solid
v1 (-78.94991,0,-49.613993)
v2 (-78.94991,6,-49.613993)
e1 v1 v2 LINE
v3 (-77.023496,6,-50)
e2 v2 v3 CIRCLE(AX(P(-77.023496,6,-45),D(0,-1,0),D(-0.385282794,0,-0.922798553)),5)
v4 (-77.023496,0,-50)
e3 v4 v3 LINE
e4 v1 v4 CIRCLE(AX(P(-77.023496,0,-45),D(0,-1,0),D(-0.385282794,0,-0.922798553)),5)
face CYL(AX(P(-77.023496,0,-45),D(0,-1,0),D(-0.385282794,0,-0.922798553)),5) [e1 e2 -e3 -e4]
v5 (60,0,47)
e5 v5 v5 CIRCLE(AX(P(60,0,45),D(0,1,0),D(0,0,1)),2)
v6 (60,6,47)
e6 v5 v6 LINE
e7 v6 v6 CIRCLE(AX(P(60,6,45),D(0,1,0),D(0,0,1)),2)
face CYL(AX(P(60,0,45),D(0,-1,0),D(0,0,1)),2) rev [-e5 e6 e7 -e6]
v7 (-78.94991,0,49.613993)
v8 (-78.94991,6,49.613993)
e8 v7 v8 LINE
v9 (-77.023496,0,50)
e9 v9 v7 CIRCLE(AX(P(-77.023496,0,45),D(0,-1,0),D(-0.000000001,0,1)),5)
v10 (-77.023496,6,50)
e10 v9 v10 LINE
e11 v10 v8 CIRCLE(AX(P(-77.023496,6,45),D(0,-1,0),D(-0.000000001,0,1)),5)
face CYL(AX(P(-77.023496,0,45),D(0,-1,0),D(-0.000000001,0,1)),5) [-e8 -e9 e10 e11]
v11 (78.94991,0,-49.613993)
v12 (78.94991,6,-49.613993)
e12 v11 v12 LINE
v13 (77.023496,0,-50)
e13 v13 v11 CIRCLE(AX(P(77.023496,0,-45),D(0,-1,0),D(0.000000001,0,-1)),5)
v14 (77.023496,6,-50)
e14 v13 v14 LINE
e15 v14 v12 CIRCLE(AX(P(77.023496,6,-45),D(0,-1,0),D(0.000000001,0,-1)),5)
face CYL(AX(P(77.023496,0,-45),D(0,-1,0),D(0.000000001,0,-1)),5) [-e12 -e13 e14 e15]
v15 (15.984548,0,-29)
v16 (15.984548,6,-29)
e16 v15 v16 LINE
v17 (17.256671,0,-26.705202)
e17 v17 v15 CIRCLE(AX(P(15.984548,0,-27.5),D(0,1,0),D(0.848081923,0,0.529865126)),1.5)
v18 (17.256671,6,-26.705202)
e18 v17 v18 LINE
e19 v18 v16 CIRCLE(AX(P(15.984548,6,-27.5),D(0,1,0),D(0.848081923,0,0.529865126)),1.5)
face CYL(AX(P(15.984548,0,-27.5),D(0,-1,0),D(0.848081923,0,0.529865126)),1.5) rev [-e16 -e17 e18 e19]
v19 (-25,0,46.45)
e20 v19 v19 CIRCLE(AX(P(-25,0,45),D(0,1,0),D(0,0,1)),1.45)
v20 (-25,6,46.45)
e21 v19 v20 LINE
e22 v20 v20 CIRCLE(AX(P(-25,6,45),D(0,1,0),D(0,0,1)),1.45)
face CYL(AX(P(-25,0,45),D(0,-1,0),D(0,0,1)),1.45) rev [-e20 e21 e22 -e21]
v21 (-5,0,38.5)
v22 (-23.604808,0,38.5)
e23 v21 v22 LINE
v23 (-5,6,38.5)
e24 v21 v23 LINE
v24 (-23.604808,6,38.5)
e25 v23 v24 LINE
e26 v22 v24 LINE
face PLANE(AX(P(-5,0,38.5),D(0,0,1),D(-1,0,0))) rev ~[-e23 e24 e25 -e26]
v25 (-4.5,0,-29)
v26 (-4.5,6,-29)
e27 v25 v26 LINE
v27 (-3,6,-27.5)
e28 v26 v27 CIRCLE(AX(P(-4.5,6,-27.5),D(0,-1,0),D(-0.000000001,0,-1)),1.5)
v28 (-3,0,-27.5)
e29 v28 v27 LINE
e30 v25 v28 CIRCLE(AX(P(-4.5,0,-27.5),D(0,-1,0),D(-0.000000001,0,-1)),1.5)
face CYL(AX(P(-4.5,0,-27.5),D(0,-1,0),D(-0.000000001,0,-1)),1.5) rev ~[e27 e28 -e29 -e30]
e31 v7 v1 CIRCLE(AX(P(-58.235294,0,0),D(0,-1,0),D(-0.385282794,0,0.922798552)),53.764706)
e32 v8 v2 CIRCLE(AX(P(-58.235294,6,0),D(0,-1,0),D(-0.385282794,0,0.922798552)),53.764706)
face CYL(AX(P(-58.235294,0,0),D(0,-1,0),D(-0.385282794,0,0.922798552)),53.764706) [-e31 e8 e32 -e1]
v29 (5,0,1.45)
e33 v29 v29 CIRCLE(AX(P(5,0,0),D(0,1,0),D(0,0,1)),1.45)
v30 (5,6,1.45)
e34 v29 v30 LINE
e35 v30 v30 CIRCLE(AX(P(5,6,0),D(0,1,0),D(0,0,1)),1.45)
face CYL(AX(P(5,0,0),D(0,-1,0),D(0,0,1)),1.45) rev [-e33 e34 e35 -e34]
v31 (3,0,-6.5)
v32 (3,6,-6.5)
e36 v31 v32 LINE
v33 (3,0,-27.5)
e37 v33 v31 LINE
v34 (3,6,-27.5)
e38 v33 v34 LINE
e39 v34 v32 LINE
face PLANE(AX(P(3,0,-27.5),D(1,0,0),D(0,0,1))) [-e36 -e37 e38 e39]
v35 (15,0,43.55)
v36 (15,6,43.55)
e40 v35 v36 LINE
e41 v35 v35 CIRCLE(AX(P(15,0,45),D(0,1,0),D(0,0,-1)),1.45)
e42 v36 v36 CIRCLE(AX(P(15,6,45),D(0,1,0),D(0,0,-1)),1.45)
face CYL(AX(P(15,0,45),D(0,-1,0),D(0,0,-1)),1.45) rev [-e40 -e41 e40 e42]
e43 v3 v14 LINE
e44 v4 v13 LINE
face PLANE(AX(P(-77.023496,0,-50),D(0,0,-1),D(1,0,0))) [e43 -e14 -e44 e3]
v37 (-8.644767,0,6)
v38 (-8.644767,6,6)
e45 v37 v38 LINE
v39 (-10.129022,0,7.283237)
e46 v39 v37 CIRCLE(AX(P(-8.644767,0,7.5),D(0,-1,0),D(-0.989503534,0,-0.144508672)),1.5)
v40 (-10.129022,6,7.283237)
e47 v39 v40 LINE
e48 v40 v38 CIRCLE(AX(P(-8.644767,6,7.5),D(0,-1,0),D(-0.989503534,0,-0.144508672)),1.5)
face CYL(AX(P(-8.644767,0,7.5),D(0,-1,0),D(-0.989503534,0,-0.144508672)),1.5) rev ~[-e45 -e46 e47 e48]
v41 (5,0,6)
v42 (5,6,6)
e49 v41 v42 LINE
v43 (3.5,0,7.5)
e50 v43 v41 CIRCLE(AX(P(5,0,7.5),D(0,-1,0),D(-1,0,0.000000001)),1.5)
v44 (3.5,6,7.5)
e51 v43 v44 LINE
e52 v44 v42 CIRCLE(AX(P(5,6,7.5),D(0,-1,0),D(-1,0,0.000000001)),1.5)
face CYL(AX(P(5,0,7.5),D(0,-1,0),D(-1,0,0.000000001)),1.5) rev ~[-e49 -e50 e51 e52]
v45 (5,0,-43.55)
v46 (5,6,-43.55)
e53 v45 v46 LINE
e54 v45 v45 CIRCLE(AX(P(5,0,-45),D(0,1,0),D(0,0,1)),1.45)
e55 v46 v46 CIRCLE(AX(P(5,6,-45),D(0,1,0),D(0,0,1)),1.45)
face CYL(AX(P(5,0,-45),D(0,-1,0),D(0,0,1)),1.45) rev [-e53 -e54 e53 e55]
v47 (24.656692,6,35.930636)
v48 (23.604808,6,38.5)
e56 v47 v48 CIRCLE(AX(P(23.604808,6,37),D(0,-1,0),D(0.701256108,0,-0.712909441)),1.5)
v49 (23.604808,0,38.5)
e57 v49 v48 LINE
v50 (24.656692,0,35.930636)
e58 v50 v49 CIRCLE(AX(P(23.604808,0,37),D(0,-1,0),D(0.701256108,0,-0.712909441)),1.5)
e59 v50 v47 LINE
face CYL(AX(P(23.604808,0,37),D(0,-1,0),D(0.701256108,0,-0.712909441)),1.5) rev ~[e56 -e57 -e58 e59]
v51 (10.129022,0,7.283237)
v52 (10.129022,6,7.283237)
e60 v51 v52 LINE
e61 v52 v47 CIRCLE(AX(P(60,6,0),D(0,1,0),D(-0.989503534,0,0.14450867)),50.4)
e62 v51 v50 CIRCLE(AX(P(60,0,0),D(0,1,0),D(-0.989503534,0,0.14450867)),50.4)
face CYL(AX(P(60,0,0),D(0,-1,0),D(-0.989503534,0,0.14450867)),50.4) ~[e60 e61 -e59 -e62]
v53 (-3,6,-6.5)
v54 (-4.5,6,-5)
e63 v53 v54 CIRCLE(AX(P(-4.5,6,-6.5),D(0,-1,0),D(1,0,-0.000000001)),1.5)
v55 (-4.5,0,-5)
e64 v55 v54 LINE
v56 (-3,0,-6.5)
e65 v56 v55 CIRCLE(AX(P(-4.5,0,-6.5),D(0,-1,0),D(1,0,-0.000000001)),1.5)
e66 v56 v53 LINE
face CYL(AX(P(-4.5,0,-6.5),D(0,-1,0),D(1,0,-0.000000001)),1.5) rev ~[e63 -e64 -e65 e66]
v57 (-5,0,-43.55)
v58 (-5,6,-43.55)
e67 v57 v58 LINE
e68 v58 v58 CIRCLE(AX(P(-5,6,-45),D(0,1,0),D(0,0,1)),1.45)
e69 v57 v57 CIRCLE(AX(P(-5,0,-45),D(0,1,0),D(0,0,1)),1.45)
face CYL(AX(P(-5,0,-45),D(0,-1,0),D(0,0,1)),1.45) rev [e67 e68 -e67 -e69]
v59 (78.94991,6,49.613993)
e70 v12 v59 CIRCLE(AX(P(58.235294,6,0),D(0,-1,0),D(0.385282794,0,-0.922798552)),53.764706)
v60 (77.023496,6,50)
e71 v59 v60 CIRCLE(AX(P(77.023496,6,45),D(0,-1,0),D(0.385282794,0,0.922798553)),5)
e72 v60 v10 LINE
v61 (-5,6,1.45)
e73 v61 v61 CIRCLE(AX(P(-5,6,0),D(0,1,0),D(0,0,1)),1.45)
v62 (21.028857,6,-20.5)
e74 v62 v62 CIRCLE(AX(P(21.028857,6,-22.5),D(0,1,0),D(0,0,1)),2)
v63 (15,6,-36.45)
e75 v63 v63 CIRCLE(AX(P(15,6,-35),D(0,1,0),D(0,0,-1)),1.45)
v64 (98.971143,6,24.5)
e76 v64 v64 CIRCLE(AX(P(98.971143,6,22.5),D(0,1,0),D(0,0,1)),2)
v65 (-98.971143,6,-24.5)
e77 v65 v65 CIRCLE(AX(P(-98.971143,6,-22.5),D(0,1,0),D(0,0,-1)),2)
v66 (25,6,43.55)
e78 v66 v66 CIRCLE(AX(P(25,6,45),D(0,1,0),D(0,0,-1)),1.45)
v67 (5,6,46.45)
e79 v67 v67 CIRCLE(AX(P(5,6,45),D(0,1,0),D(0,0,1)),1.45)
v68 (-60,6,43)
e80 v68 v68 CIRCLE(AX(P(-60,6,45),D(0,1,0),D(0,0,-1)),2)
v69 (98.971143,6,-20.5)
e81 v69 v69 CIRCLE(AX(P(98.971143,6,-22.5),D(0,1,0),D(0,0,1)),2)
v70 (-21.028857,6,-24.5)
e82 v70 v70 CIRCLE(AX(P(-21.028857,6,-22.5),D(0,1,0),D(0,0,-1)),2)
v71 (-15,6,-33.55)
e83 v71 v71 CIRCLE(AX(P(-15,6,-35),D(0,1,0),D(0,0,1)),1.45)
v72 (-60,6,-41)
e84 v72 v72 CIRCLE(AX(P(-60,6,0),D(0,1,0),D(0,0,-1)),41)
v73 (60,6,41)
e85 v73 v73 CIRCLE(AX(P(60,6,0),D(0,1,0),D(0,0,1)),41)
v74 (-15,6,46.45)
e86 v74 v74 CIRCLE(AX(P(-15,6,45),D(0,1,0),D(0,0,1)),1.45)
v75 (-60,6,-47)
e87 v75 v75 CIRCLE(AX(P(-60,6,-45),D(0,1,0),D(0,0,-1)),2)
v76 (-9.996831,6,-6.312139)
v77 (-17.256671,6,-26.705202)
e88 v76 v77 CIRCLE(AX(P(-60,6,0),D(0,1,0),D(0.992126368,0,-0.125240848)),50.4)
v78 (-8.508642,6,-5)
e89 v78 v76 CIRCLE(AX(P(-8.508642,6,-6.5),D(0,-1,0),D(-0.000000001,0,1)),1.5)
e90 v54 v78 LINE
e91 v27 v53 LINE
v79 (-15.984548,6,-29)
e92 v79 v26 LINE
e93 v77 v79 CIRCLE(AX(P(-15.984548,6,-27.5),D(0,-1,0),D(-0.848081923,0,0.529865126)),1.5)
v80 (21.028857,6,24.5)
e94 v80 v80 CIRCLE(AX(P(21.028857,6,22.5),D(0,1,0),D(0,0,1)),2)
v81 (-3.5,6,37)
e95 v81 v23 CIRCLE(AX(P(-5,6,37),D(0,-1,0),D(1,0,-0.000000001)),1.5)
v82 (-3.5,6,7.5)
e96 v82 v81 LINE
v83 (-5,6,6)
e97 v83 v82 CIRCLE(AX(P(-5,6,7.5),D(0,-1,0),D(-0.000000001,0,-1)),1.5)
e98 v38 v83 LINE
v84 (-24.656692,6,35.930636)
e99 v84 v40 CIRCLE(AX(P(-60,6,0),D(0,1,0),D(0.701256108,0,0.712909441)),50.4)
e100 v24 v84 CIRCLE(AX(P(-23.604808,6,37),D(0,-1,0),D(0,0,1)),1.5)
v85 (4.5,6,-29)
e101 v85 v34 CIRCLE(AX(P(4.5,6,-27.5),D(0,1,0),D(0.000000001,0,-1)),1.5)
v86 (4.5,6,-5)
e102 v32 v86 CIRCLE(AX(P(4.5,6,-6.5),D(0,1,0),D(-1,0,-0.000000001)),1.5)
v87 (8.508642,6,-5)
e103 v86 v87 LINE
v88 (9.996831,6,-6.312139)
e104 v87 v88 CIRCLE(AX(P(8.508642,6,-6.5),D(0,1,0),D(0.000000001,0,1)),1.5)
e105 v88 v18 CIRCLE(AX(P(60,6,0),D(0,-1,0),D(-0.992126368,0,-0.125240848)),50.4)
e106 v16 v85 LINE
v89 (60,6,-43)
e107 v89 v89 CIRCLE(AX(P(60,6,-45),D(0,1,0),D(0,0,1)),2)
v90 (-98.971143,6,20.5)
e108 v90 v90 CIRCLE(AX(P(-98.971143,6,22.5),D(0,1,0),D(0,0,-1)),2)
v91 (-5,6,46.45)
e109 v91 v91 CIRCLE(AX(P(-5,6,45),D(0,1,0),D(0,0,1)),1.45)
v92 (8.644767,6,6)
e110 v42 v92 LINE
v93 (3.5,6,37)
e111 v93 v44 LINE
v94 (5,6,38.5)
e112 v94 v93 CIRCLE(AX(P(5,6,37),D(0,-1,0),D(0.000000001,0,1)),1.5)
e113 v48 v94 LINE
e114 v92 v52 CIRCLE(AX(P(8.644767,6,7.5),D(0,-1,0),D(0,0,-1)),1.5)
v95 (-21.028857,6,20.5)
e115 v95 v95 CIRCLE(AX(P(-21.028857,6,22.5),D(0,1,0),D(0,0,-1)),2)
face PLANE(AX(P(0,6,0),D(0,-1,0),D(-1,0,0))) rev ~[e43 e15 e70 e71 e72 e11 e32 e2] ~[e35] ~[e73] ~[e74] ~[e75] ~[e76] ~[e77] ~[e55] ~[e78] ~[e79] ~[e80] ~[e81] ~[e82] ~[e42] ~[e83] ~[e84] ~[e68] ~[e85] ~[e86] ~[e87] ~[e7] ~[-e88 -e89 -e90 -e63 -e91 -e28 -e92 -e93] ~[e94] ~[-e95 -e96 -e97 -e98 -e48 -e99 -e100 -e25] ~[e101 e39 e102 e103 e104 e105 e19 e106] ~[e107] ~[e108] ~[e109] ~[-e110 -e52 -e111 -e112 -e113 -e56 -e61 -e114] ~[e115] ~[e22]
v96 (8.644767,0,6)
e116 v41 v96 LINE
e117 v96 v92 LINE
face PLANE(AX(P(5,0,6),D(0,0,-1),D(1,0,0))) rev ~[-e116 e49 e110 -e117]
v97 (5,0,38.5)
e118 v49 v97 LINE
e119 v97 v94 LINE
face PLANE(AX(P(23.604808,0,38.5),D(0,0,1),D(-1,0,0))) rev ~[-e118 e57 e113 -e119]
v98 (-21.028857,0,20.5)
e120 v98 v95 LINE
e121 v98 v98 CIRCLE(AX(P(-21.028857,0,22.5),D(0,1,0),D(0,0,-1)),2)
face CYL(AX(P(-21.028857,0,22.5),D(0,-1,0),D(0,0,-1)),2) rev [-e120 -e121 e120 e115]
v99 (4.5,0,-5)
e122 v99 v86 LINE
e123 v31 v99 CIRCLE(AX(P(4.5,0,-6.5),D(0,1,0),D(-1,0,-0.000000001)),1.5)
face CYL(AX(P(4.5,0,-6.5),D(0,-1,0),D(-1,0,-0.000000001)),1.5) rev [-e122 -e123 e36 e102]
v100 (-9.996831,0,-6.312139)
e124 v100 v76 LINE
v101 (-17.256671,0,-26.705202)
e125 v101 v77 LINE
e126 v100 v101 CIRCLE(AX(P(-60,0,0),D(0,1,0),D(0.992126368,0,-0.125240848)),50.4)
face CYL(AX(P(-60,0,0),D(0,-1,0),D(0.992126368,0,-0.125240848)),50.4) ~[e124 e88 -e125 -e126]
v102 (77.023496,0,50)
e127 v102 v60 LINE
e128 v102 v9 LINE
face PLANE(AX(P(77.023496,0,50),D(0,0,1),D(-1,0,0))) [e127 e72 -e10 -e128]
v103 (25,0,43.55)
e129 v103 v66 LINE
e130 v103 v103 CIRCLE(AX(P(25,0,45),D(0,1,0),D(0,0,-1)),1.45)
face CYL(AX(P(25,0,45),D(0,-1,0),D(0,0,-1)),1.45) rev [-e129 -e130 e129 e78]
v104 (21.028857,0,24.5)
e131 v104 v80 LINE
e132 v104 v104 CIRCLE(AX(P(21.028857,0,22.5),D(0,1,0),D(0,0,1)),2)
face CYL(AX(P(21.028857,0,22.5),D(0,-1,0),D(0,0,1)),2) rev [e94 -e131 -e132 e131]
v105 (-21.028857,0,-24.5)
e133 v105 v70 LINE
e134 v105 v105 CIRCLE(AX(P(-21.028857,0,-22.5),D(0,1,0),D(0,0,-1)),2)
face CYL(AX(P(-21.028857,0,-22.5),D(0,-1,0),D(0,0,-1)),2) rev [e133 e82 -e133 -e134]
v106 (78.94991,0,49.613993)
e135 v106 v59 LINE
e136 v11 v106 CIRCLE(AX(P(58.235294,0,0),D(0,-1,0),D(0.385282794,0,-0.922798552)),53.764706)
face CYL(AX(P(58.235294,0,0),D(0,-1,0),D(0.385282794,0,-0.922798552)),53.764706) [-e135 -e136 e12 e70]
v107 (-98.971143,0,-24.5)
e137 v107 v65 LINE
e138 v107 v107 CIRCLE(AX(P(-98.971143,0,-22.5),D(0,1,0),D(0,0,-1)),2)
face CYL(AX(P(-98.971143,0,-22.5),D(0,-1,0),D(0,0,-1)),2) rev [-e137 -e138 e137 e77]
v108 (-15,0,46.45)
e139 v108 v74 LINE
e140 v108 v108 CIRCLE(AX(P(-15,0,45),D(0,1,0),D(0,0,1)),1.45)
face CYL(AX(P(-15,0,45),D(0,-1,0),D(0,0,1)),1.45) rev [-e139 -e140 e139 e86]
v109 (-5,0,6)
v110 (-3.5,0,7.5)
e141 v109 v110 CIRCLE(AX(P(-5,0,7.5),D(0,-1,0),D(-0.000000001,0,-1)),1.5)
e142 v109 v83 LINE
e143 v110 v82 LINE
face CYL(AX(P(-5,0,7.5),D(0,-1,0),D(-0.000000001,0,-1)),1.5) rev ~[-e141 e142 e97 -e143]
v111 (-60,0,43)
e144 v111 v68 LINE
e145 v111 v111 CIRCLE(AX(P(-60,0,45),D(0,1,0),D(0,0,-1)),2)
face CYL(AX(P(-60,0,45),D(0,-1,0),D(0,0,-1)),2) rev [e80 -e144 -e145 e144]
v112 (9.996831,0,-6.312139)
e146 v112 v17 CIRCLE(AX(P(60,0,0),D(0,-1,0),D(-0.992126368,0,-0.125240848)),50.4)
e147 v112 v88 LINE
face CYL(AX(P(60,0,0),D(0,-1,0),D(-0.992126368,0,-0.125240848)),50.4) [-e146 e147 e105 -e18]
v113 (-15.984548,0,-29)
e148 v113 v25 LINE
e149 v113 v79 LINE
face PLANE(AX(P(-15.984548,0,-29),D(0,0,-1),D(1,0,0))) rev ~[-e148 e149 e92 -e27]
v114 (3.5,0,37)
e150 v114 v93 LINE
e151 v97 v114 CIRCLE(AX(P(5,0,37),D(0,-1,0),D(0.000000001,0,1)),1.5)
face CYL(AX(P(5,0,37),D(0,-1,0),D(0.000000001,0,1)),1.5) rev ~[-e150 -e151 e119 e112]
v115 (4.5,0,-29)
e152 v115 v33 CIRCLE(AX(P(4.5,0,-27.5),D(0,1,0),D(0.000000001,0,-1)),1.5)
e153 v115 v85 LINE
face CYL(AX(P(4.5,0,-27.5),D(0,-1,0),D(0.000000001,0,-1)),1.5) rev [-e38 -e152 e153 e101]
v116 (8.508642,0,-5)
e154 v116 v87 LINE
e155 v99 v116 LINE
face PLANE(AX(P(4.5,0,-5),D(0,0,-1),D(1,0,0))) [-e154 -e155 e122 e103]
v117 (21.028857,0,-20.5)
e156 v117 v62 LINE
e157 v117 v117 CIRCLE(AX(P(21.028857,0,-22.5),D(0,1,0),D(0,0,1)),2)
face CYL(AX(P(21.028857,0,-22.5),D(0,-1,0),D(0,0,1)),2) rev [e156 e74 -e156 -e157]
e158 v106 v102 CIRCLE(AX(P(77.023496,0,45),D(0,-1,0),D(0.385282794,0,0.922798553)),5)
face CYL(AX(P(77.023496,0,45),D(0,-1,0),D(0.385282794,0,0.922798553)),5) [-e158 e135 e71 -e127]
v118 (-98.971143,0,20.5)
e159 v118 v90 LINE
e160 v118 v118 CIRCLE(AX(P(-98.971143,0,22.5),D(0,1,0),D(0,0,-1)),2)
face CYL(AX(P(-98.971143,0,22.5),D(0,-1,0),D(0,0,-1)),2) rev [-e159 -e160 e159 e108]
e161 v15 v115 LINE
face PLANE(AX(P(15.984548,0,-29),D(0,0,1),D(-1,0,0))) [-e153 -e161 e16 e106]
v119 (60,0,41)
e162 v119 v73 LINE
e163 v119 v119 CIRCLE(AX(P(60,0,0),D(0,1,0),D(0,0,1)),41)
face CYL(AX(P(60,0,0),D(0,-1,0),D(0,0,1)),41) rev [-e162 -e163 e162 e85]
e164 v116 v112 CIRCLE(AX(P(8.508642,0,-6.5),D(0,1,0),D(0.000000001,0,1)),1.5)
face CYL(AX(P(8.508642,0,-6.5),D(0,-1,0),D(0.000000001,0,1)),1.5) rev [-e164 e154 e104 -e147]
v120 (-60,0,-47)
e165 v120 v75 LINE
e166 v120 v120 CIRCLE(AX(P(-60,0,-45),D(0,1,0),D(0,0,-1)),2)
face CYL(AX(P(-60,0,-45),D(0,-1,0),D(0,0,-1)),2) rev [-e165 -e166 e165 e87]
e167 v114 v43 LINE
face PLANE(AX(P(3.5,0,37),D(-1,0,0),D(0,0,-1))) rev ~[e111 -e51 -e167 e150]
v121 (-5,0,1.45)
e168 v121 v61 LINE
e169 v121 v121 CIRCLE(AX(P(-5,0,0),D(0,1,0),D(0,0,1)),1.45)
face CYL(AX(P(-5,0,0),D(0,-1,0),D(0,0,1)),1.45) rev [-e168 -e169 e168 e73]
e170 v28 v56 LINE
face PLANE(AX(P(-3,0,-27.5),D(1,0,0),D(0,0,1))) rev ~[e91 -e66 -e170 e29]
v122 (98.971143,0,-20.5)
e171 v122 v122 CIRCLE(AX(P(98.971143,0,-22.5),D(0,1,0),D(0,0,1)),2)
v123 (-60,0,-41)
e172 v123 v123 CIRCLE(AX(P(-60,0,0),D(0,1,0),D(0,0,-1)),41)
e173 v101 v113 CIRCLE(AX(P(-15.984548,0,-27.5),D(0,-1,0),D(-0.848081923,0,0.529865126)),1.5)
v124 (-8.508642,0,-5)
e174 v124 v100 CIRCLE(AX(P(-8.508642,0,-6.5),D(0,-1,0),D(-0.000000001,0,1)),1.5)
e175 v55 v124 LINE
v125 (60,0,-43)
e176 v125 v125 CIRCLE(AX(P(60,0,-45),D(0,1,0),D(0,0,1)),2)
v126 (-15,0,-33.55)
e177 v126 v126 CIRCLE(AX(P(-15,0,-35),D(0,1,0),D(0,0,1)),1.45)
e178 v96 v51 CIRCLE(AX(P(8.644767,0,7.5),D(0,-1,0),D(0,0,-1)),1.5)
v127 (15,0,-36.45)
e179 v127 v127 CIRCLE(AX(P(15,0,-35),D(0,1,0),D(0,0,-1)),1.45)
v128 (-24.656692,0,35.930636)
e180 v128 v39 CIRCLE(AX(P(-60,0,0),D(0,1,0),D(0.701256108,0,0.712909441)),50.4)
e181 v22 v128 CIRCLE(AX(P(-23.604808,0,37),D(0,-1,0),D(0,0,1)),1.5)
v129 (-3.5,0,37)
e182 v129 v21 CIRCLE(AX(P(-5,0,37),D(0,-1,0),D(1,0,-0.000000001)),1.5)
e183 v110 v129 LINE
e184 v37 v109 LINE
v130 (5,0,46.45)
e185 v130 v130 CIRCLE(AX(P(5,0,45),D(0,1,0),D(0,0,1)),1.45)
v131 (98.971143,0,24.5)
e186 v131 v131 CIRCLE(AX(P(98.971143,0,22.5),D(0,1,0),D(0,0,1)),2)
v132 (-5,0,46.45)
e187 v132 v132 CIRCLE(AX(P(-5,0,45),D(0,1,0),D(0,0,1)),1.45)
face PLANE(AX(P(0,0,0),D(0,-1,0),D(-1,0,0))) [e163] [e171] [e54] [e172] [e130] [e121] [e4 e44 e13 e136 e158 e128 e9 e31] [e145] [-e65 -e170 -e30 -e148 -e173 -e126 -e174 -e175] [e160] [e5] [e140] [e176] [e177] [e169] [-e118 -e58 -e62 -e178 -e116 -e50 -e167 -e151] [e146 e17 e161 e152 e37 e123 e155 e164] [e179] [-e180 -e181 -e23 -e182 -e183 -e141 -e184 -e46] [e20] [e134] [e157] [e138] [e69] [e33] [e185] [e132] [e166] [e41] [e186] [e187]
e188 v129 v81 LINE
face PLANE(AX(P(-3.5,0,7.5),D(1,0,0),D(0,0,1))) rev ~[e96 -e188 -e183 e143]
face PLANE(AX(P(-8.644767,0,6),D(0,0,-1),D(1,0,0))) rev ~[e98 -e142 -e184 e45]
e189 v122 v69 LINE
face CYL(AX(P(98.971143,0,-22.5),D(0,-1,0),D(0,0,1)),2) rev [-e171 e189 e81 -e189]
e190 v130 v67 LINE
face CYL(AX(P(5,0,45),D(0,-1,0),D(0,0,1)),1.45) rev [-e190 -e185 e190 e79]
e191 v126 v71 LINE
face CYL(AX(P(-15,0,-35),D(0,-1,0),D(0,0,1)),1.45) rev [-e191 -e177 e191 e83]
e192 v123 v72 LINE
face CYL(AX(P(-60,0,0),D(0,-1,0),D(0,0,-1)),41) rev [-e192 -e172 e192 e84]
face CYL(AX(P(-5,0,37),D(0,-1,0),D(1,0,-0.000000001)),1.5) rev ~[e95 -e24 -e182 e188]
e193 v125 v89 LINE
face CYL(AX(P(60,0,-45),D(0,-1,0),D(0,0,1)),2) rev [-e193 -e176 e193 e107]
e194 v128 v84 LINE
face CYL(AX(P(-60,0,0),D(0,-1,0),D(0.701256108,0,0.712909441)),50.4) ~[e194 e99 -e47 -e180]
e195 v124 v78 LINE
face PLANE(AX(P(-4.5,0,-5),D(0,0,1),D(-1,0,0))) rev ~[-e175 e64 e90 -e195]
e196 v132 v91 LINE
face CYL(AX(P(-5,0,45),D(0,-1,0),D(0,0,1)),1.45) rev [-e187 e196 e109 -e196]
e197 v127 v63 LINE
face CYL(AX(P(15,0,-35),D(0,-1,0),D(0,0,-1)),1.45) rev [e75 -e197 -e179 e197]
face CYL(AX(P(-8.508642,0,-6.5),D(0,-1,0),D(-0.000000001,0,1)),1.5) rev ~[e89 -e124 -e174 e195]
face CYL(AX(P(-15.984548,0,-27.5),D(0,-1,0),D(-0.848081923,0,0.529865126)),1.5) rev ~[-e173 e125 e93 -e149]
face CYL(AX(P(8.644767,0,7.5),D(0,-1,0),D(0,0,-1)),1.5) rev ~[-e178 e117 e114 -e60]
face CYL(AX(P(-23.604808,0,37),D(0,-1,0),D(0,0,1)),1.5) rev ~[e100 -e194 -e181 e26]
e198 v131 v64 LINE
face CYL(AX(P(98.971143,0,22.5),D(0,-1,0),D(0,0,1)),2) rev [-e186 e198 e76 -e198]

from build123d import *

# Parameters (mm, degrees)
SKETCH_1_R      = 2
SKETCH_1_R_2    = 41
SKETCH_1_R_3    = 1.45
EXTRUDE_1_DEPTH = 6


with BuildPart() as part:
    # 草图1 → 凸台-拉伸1 (new body)
    with BuildSketch(Plane(origin=(0, 0, 0), x_dir=(1, 0, 0), z_dir=(0, 1, 0))):
        with BuildLine():
            Line((-77.023496261, 50), (77.023496261, 50))
            ThreePointArc((77.023496261, 50), (78.005849606, 49.902548511), (78.949910233, 49.613992762))
            ThreePointArc((78.949910233, 49.613992762), (112, 0), (78.949910233, -49.613992762))
            ThreePointArc((78.949910233, -49.613992762), (78.005849606, -49.902548511), (77.023496261, -50))
            Line((77.023496261, -50), (-77.023496261, -50))
            ThreePointArc((-77.023496261, -50), (-78.005849606, -49.902548511), (-78.949910233, -49.613992762))
            ThreePointArc((-78.949910233, -49.613992762), (-112, 0), (-78.949910233, 49.613992762))
            ThreePointArc((-78.949910233, 49.613992762), (-78.005849606, 49.902548511), (-77.023496261, 50))
        make_face()
        with Locations(Location((60, 45, 0), (0, 0, 270))):
            Circle(SKETCH_1_R, mode=Mode.SUBTRACT)
        with Locations(Location((21.02885683, 22.5, 0), (0, 0, 270))):
            Circle(SKETCH_1_R, mode=Mode.SUBTRACT)
        with Locations(Location((21.02885683, -22.5, 0), (0, 0, 270))):
            Circle(SKETCH_1_R, mode=Mode.SUBTRACT)
        with Locations(Location((60, -45, 0), (0, 0, 270))):
            Circle(SKETCH_1_R, mode=Mode.SUBTRACT)
        with Locations(Location((98.97114317, -22.5, 0), (0, 0, 270))):
            Circle(SKETCH_1_R, mode=Mode.SUBTRACT)
        with Locations(Location((98.97114317, 22.5, 0), (0, 0, 270))):
            Circle(SKETCH_1_R, mode=Mode.SUBTRACT)
        with Locations(Location((60, 0, 0), (0, 0, 270))):
            Circle(SKETCH_1_R_2, mode=Mode.SUBTRACT)
        with Locations(Location((-60, 0, 0), (0, 0, 90))):
            Circle(SKETCH_1_R_2, mode=Mode.SUBTRACT)
        with Locations(Location((-21.02885683, -22.5, 0), (0, 0, 90))):
            Circle(SKETCH_1_R, mode=Mode.SUBTRACT)
        with Locations(Location((-21.02885683, 22.5, 0), (0, 0, 90))):
            Circle(SKETCH_1_R, mode=Mode.SUBTRACT)
        with Locations(Location((-60, 45, 0), (0, 0, 90))):
            Circle(SKETCH_1_R, mode=Mode.SUBTRACT)
        with Locations(Location((-98.97114317, 22.5, 0), (0, 0, 90))):
            Circle(SKETCH_1_R, mode=Mode.SUBTRACT)
        with Locations(Location((-98.97114317, -22.5, 0), (0, 0, 90))):
            Circle(SKETCH_1_R, mode=Mode.SUBTRACT)
        with Locations(Location((-60, -45, 0), (0, 0, 90))):
            Circle(SKETCH_1_R, mode=Mode.SUBTRACT)
        with Locations(Location((-5, 45, 0), (0, 0, 270))):
            Circle(SKETCH_1_R_3, mode=Mode.SUBTRACT)
        with Locations(Location((5, 45, 0), (0, 0, 270))):
            Circle(SKETCH_1_R_3, mode=Mode.SUBTRACT)
        with Locations(Location((-5, 0, 0), (0, 0, 270))):
            Circle(SKETCH_1_R_3, mode=Mode.SUBTRACT)
        with Locations(Location((5, 0, 0), (0, 0, 270))):
            Circle(SKETCH_1_R_3, mode=Mode.SUBTRACT)
        with Locations(Location((-5, -45, 0), (0, 0, 270))):
            Circle(SKETCH_1_R_3, mode=Mode.SUBTRACT)
        with Locations(Location((5, -45, 0), (0, 0, 270))):
            Circle(SKETCH_1_R_3, mode=Mode.SUBTRACT)
        with Locations(Location((-15, 35, 0), (0, 0, 270))):
            Circle(SKETCH_1_R_3, mode=Mode.SUBTRACT)
        with Locations(Location((15, 35, 0), (0, 0, 90))):
            Circle(SKETCH_1_R_3, mode=Mode.SUBTRACT)
        with Locations(Location((-15, -45, 0), (0, 0, 270))):
            Circle(SKETCH_1_R_3, mode=Mode.SUBTRACT)
        with Locations(Location((-25, -45, 0), (0, 0, 270))):
            Circle(SKETCH_1_R_3, mode=Mode.SUBTRACT)
        with Locations(Location((25, -45, 0), (0, 0, 90))):
            Circle(SKETCH_1_R_3, mode=Mode.SUBTRACT)
        with Locations(Location((15, -45, 0), (0, 0, 90))):
            Circle(SKETCH_1_R_3, mode=Mode.SUBTRACT)
        with BuildLine():
            Line((-3.5, -7.5), (-3.5, -37))
            ThreePointArc((-3.5, -37), (-3.939339828, -38.060660172), (-5, -38.5))
            Line((-5, -38.5), (-23.60480801, -38.5))
            ThreePointArc((-23.60480801, -38.5), (-24.992980593, -37.568310548), (-24.656692171, -35.930635838))
            ThreePointArc((-24.656692171, -35.930635838), (-15.049616268, -22.795240783), (-10.129021878, -7.283236994))
            ThreePointArc((-10.129021878, -7.283236994), (-9.625800595, -6.36528759), (-8.644766576, -6))
            Line((-8.644766576, -6), (-5, -6))
            ThreePointArc((-5, -6), (-3.939339828, -6.439339828), (-3.5, -7.5))
        make_face(mode=Mode.SUBTRACT)
        with BuildLine():
            Line((5, -6), (8.644766576, -6))
            ThreePointArc((8.644766576, -6), (9.625800595, -6.36528759), (10.129021878, -7.283236994))
            ThreePointArc((10.129021878, -7.283236994), (15.049616268, -22.795240783), (24.656692171, -35.930635838))
            ThreePointArc((24.656692171, -35.930635838), (24.992980593, -37.568310548), (23.60480801, -38.5))
            Line((23.60480801, -38.5), (5, -38.5))
            ThreePointArc((5, -38.5), (3.939339828, -38.060660172), (3.5, -37))
            Line((3.5, -37), (3.5, -7.5))
            ThreePointArc((3.5, -7.5), (3.939339828, -6.439339828), (5, -6))
        make_face(mode=Mode.SUBTRACT)
        with BuildLine():
            Line((-15.984548168, 29), (-4.5, 29))
            ThreePointArc((-4.5, 29), (-3.439339828, 28.560660172), (-3, 27.5))
            Line((-3, 27.5), (-3, 6.5))
            ThreePointArc((-3, 6.5), (-3.439339828, 5.439339828), (-4.5, 5))
            Line((-4.5, 5), (-8.508641502, 5))
            ThreePointArc((-8.508641502, 5), (-9.500661686, 5.374879583), (-9.996831054, 6.312138728))
            ThreePointArc((-9.996831054, 6.312138728), (-12.518977702, 16.90303291), (-17.256671053, 26.705202312))
            ThreePointArc((-17.256671053, 26.705202312), (-17.296454516, 28.227256306), (-15.984548168, 29))
        make_face(mode=Mode.SUBTRACT)
        with BuildLine():
            Line((15.984548168, 29), (4.5, 29))
            ThreePointArc((4.5, 29), (3.439339828, 28.560660172), (3, 27.5))
            Line((3, 27.5), (3, 6.5))
            ThreePointArc((3, 6.5), (3.439339828, 5.439339828), (4.5, 5))
            Line((4.5, 5), (8.508641502, 5))
            ThreePointArc((8.508641502, 5), (9.500661686, 5.374879583), (9.996831054, 6.312138728))
            ThreePointArc((9.996831054, 6.312138728), (12.518977702, 16.90303291), (17.256671053, 26.705202312))
            ThreePointArc((17.256671053, 26.705202312), (17.296454516, 28.227256306), (15.984548168, 29))
        make_face(mode=Mode.SUBTRACT)
    extrude(amount=EXTRUDE_1_DEPTH)


solid = part.part
